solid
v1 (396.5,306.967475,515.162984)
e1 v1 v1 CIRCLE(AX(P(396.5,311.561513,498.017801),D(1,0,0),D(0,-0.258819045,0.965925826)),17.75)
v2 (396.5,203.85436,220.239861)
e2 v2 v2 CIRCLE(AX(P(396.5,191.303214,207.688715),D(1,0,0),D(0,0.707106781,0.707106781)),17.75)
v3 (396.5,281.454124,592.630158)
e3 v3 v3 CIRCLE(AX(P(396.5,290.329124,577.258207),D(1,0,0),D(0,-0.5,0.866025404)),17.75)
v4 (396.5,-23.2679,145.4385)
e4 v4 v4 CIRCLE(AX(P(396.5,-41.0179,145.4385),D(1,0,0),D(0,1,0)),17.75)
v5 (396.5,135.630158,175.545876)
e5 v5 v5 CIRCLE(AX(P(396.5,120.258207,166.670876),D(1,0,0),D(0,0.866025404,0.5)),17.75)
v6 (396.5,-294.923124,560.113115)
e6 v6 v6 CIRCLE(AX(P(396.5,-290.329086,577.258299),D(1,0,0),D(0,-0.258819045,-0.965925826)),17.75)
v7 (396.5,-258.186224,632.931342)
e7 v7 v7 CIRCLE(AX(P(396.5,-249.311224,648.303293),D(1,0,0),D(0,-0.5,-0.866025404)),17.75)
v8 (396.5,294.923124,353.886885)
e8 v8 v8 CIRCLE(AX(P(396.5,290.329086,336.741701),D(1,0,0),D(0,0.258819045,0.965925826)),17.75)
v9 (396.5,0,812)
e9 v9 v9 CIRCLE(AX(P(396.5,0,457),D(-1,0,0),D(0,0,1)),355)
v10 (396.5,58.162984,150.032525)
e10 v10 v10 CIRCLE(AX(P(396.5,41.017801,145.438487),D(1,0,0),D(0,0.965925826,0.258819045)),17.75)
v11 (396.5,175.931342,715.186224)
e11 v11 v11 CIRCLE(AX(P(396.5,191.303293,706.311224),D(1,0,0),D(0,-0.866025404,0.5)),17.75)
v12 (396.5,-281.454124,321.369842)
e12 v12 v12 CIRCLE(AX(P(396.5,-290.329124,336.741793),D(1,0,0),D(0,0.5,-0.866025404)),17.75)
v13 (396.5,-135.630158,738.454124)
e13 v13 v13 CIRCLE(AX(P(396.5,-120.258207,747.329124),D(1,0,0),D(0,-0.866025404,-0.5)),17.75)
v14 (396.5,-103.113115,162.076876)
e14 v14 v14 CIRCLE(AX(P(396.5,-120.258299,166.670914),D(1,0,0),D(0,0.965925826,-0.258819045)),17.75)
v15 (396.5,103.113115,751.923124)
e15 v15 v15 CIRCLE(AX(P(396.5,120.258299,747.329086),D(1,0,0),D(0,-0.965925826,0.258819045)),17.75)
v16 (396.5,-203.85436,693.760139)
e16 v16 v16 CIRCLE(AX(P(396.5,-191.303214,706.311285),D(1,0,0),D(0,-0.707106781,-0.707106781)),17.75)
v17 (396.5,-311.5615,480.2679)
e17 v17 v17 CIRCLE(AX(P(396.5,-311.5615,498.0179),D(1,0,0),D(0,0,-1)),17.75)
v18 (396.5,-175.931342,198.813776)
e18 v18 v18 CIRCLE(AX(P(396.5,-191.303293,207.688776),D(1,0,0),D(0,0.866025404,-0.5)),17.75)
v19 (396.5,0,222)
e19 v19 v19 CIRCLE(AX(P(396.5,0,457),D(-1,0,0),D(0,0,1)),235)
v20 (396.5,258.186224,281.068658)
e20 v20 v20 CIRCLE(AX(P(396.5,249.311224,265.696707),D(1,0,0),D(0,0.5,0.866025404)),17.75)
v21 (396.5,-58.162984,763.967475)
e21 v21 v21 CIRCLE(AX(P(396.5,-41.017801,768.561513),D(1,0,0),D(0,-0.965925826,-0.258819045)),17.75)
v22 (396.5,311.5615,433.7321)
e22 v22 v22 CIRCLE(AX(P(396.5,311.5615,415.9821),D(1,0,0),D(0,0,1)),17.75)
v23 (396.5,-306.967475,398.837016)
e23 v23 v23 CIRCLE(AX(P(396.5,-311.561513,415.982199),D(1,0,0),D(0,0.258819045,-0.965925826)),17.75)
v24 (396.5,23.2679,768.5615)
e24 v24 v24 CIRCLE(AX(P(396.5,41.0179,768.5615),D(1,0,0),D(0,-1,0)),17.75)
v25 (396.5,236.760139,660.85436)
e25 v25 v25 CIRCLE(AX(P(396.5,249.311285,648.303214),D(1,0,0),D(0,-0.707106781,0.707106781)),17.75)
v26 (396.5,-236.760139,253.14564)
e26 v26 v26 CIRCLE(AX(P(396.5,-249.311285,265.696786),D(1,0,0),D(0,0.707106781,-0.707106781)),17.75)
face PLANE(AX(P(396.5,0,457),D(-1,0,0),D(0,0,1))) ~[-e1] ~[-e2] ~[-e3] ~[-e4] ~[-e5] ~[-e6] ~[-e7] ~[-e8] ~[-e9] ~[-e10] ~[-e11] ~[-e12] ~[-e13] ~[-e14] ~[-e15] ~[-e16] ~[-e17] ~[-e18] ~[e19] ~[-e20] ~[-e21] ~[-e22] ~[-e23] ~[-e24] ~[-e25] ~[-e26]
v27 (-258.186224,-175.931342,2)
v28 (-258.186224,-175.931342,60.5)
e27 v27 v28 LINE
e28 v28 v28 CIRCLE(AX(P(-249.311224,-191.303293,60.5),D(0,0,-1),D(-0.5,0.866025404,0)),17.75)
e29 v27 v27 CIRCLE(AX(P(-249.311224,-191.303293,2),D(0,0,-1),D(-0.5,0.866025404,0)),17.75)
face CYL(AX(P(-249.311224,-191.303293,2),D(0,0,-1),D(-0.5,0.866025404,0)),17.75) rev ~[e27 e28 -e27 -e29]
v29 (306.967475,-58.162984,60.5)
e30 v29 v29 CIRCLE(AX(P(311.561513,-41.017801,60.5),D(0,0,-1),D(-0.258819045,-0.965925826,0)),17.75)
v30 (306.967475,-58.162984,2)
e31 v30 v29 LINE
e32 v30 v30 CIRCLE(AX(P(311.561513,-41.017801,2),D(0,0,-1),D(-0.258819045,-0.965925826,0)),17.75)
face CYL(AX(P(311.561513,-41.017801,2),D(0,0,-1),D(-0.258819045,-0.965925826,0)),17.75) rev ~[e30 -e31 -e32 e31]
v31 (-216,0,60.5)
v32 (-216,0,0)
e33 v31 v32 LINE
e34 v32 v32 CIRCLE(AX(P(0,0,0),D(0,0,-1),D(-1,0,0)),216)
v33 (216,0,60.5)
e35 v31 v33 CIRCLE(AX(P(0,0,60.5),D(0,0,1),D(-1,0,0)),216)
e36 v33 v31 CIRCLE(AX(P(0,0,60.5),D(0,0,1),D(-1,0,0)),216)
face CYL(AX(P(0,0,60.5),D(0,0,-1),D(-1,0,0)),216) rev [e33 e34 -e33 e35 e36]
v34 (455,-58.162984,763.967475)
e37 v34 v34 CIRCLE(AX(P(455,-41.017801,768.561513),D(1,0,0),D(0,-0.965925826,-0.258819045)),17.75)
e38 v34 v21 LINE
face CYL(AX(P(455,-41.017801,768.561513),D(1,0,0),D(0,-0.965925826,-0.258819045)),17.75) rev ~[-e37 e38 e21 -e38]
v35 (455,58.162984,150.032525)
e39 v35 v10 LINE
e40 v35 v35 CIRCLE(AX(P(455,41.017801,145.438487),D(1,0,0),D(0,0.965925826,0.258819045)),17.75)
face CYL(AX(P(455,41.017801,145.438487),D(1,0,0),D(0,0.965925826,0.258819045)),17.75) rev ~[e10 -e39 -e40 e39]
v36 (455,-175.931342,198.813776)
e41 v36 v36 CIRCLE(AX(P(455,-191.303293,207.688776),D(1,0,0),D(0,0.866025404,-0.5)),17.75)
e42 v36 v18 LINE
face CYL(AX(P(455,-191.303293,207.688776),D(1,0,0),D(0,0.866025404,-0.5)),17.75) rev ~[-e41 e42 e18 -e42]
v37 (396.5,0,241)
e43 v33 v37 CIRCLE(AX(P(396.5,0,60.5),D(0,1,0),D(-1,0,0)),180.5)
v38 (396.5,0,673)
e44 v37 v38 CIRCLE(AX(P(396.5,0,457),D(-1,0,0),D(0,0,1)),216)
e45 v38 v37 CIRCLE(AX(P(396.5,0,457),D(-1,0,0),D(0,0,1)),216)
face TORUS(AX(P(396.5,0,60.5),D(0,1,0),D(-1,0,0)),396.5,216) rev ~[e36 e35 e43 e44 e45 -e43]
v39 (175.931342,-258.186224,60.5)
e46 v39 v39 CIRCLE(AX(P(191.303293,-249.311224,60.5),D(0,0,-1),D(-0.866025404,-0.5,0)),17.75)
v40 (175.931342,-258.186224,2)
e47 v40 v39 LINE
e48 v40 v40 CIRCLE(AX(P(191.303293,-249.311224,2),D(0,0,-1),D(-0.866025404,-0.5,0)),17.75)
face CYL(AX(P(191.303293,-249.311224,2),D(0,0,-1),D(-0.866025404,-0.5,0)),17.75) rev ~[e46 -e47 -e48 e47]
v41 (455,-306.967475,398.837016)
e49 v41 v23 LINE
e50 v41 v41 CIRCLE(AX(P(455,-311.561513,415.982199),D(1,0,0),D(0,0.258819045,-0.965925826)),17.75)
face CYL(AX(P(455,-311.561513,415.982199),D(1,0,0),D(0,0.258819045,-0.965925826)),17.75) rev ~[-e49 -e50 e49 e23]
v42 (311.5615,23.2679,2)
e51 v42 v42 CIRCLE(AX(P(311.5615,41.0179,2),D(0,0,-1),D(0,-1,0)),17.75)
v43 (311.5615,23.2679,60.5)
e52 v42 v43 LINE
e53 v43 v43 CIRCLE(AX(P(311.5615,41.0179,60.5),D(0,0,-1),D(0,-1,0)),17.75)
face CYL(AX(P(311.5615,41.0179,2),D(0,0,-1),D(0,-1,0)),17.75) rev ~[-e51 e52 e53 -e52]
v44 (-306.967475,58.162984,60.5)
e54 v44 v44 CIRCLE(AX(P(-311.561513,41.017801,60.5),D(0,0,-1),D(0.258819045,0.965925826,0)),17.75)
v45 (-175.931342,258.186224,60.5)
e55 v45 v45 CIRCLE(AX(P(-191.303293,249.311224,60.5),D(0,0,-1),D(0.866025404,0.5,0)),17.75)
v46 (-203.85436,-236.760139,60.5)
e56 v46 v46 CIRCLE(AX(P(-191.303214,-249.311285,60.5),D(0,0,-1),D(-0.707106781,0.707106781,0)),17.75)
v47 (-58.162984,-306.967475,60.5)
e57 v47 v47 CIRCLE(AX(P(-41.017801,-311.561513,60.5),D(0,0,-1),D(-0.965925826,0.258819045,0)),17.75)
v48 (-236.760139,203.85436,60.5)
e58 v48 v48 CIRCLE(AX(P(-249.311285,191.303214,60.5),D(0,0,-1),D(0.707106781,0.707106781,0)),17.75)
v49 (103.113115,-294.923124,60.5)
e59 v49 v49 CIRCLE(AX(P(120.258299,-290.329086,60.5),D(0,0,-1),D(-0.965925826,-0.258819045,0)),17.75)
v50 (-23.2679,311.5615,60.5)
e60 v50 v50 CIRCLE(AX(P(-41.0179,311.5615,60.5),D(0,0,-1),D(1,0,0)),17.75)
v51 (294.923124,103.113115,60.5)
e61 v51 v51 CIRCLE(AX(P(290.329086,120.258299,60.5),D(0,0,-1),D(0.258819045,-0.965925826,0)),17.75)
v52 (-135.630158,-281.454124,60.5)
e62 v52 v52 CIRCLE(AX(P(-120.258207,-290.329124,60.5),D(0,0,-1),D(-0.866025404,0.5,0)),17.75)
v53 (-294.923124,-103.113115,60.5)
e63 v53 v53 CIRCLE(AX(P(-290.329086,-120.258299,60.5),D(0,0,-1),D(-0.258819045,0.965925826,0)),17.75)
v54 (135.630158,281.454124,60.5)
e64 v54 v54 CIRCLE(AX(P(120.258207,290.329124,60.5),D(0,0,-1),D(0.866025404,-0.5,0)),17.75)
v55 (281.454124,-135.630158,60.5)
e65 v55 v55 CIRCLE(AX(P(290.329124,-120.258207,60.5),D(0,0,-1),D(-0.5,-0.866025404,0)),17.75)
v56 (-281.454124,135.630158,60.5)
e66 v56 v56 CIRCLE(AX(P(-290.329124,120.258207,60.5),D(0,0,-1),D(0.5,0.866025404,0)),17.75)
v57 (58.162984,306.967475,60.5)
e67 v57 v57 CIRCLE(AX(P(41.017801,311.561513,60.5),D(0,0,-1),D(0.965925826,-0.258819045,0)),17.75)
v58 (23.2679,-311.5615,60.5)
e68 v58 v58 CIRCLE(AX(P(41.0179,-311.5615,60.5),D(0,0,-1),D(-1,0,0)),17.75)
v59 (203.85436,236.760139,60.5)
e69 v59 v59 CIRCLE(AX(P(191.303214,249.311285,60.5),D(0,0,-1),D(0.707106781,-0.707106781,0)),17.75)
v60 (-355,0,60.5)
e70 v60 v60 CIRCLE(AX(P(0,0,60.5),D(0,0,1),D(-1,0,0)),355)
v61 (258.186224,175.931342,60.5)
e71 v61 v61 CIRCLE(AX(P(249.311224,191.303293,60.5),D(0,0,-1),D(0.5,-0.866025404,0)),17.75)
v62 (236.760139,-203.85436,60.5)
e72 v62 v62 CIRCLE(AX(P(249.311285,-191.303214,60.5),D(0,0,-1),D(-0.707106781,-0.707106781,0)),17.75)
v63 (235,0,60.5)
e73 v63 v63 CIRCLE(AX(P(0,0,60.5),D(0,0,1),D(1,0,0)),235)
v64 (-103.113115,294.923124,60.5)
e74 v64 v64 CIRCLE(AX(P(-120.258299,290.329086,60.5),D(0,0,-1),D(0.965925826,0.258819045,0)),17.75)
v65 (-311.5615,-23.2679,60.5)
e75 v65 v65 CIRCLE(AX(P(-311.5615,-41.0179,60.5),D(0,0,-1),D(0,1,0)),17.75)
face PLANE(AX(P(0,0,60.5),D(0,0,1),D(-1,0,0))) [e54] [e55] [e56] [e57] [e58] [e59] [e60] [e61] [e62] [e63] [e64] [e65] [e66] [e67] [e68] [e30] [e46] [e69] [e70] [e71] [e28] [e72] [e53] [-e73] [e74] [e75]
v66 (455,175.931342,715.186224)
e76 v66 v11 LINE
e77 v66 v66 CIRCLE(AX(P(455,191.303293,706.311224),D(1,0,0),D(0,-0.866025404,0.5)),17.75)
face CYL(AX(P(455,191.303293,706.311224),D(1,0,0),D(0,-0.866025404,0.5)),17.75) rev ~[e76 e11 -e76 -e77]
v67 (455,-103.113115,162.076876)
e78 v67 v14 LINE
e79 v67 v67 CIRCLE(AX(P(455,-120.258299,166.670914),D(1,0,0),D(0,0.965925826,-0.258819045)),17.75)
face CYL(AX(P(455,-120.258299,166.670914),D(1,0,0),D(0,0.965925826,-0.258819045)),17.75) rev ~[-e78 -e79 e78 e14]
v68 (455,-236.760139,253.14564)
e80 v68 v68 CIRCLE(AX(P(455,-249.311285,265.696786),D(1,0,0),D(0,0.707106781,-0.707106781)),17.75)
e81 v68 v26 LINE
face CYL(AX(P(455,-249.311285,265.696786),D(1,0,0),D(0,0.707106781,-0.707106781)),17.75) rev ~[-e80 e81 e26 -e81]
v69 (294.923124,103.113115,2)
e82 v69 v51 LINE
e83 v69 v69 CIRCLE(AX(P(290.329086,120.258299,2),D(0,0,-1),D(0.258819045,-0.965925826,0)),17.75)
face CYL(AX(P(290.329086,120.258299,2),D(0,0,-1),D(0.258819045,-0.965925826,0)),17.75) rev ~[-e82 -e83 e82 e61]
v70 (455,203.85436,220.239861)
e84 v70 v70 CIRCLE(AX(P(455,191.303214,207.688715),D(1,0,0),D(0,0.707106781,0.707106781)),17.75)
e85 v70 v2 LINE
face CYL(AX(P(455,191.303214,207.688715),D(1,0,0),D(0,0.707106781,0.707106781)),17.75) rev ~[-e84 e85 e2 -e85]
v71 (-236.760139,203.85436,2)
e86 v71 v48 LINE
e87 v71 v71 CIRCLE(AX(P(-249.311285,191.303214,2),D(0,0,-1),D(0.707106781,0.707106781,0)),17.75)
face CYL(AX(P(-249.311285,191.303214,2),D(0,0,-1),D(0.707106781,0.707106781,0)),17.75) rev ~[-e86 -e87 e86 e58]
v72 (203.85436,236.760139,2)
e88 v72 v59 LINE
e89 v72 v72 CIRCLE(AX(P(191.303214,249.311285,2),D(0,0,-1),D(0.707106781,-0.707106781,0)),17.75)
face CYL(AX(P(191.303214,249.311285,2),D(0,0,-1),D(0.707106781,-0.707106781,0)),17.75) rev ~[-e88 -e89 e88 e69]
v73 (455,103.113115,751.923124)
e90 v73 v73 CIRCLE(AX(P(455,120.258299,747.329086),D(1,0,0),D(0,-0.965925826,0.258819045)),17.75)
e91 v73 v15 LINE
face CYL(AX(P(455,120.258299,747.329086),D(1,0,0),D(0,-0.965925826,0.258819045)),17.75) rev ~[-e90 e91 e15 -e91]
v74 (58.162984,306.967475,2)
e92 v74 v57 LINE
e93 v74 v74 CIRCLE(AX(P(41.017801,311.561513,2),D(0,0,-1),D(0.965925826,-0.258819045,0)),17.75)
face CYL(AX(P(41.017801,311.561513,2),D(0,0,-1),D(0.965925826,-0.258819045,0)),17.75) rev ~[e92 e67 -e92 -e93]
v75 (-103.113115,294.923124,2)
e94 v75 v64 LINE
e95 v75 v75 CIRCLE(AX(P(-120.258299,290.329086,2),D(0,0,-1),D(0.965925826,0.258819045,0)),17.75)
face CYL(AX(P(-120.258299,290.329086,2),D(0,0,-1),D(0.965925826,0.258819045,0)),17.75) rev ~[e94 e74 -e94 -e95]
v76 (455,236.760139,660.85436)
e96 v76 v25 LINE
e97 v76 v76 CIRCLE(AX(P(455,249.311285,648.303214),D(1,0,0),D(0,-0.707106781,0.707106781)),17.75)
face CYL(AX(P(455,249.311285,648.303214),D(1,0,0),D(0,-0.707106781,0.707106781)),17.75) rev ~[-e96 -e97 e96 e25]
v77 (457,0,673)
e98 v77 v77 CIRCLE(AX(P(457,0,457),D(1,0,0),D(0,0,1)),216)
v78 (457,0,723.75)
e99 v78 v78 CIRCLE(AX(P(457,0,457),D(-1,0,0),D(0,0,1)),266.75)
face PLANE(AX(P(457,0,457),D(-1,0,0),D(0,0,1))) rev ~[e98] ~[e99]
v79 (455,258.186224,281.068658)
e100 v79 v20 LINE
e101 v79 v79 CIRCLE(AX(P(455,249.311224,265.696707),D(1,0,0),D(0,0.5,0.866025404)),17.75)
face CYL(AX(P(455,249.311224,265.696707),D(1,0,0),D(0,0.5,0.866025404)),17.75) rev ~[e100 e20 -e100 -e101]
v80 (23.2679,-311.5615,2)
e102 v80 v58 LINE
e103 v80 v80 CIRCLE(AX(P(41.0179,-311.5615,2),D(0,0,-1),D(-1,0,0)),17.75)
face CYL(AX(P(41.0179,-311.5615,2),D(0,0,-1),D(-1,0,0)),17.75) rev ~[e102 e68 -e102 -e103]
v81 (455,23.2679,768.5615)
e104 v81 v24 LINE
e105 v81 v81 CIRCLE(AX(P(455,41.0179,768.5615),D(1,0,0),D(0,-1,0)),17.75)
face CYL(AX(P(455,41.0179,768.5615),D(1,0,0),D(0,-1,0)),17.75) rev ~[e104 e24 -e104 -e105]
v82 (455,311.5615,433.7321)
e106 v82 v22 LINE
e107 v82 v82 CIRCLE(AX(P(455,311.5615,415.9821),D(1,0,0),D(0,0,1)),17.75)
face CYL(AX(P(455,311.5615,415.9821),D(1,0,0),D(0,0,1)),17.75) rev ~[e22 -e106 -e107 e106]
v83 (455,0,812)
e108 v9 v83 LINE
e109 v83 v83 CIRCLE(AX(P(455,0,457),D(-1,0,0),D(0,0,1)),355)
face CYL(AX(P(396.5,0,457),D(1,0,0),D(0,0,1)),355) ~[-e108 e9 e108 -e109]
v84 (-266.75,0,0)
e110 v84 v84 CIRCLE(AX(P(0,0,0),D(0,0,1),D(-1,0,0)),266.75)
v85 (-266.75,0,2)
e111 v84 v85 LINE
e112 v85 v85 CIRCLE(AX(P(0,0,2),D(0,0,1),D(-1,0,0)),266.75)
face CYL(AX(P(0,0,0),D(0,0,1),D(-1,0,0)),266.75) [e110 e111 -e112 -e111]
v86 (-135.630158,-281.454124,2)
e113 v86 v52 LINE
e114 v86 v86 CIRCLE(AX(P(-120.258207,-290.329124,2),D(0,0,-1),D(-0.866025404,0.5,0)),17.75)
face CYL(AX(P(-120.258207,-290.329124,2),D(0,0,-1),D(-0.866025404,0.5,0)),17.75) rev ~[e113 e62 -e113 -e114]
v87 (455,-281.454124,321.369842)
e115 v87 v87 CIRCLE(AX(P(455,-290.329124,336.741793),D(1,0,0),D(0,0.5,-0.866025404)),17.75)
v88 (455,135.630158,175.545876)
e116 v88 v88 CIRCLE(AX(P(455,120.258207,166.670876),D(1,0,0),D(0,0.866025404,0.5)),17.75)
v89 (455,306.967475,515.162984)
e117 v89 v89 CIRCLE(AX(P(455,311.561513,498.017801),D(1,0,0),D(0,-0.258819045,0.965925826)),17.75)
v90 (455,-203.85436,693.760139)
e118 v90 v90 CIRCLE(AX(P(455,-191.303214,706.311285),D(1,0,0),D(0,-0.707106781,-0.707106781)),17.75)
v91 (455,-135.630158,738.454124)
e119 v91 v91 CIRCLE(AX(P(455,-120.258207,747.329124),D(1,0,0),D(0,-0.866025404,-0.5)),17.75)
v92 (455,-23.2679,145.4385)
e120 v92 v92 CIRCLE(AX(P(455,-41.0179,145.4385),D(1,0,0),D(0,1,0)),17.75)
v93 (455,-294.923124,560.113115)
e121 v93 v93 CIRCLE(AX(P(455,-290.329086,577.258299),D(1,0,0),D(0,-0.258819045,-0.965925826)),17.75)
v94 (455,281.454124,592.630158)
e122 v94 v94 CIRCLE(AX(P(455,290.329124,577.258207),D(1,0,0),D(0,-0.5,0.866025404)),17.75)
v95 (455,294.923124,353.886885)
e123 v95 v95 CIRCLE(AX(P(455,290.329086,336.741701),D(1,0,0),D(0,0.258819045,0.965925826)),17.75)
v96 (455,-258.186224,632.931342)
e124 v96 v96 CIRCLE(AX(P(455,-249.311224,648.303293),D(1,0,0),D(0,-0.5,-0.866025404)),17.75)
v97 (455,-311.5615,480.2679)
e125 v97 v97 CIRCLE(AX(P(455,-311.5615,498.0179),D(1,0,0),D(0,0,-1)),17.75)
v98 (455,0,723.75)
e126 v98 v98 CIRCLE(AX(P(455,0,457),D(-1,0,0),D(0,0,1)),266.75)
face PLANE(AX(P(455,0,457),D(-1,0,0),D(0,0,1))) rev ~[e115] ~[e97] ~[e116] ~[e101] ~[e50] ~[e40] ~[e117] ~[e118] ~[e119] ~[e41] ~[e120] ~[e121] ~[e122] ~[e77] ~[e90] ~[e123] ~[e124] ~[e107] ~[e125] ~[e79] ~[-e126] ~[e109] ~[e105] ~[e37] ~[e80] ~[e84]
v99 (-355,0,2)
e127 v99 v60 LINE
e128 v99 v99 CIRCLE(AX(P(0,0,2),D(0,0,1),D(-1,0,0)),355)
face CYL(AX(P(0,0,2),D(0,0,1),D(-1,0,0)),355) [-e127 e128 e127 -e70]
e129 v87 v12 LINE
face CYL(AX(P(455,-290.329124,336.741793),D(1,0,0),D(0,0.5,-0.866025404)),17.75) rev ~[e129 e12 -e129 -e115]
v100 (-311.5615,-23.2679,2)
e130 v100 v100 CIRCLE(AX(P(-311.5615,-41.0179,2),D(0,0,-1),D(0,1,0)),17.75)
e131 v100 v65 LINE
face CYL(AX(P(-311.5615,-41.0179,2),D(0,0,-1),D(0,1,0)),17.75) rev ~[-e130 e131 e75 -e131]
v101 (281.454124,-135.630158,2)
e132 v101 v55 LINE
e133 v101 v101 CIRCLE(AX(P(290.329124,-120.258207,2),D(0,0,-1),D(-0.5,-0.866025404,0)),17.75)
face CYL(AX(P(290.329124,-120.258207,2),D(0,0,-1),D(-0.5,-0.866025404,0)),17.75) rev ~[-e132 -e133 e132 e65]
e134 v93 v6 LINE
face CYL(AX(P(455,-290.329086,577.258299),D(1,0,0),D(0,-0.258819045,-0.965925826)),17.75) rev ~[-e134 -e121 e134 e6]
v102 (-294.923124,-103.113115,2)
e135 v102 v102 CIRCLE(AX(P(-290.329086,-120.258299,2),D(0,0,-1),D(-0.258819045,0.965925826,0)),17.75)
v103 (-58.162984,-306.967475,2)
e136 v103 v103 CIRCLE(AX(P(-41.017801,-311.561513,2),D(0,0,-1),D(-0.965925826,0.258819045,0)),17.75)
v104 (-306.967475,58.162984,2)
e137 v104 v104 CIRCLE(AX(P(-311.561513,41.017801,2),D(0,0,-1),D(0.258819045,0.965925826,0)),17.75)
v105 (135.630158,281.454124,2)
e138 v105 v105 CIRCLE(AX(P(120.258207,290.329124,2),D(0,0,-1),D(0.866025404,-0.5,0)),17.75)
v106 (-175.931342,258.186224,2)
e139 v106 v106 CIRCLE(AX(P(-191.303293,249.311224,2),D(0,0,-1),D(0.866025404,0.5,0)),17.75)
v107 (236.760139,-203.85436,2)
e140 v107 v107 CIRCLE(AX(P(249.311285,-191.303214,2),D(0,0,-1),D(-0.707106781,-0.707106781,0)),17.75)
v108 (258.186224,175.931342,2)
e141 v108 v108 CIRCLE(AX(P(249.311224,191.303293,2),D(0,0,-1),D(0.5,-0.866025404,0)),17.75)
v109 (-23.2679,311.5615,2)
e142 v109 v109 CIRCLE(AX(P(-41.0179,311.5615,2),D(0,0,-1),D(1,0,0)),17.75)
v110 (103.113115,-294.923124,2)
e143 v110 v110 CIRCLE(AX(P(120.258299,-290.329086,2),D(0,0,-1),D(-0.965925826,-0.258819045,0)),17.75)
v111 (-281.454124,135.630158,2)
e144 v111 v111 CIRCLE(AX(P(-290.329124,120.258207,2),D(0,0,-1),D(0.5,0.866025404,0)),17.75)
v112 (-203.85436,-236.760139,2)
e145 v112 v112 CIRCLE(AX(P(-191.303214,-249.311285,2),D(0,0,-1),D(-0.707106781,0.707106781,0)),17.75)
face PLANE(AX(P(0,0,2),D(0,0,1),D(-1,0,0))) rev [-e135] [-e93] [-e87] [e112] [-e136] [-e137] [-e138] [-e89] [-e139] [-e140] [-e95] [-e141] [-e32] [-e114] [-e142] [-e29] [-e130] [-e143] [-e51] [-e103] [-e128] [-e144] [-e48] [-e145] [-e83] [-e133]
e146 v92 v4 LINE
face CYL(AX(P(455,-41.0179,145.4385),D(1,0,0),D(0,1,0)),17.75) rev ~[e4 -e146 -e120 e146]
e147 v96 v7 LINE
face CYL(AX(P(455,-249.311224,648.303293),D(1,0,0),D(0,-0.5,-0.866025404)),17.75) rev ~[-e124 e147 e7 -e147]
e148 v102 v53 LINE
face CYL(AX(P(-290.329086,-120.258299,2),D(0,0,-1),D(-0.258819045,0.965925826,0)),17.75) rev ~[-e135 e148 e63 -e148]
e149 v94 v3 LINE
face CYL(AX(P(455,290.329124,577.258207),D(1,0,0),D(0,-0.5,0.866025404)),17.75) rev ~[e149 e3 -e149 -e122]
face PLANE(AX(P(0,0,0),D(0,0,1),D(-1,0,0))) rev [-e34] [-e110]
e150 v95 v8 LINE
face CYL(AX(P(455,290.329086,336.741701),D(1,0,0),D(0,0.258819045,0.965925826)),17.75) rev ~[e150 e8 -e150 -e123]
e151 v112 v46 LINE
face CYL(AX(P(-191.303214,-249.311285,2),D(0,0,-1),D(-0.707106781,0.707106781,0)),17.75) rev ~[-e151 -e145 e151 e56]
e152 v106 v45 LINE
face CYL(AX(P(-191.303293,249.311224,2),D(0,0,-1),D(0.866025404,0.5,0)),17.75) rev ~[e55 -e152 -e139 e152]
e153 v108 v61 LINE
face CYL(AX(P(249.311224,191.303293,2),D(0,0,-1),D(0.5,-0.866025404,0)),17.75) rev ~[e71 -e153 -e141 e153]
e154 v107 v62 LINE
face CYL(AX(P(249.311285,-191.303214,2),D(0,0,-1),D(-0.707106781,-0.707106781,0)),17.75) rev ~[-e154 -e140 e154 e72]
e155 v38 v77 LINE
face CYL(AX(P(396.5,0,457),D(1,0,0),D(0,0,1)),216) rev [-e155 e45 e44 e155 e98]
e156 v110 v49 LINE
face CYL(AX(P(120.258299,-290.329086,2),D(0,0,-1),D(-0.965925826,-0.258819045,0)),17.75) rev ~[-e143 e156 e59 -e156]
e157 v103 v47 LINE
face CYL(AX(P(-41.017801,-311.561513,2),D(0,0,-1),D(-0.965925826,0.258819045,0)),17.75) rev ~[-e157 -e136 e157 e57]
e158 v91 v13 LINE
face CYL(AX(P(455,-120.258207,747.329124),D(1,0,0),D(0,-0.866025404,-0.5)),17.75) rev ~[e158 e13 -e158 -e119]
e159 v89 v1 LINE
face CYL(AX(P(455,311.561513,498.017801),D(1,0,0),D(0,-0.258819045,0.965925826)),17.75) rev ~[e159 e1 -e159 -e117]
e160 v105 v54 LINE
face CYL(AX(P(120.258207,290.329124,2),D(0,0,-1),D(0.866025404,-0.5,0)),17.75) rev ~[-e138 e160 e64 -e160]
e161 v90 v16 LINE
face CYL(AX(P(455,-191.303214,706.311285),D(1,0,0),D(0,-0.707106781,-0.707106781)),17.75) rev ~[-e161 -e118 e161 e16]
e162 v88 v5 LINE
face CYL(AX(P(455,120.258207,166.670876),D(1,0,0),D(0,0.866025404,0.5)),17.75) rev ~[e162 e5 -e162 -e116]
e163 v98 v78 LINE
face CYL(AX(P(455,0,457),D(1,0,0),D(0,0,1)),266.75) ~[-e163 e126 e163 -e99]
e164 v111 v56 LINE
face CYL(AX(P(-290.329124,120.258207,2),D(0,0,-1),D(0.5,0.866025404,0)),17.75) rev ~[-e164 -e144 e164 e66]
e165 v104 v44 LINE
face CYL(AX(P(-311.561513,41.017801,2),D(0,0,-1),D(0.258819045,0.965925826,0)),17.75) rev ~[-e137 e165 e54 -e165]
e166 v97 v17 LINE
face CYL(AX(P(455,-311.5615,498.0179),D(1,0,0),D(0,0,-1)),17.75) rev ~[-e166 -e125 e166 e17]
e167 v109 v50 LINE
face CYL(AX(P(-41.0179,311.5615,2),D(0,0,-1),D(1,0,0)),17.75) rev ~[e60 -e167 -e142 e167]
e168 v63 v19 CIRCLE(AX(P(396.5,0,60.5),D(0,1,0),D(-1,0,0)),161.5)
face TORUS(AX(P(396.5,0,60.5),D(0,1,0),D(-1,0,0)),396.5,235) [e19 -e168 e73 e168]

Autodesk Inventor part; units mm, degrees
ref_plane "YZ Plane" through (0, 0, 0) normal (1, 0, 0) x (0, 1, 0)
ref_plane "XZ Plane" through (0, 0, 0) normal (0, 1, 0) x (-1, 0, 0)
ref_plane "XY Plane" through (0, 0, 0) normal (0, 0, 1) x (1, 0, 0)
sketch "Sketch1" plane through (0, 0, 0) normal (0, 1, 0) x (-1, 0, 0)
  line L0 (216, 0) -> (266.75, 0)
  line L1 (266.75, 0) -> (266.75, 2)
  line L2 (266.75, 2) -> (355, 2)
  line L3 (355, 2) -> (355, 60.5)
  line L4 (355, 60.5) -> (216, 60.5)
  line L5 (216, 60.5) -> (216, 0)
  line L6 (0, 0) -> (0, 60.5)
  line L7 (0, 60.5) -> (216, 60.5) construction
  line L8 (0, 0) -> (216, 0) construction
  line L9 (-457, 457) -> (-396.5, 457) construction
  line L10 (-396.5, 457) -> (-396.5, 673) construction
  line L11 (-396.5, 673) -> (-457, 673)
  line L12 (-457, 673) -> (-457, 457) construction
  line L13 (-396.5, 673) -> (-396.5, 812)
  line L14 (-396.5, 812) -> (-455, 812)
  line L15 (-455, 812) -> (-455, 723.75)
  line L16 (-455, 723.75) -> (-457, 723.75)
  line L17 (-457, 723.75) -> (-457, 673)
  dimension "d0" = 432
  dimension "d1" = 710
  dimension "d2" = 533.5
  dimension "d3" = 2
  dimension "d4" = 60.5
  dimension "d6" = 2
  dimension "d7" = 60.5
  dimension "d8" = 432
  dimension "d9" = 533.5
  dimension "d10" = 710
  dimension "d11" = 457
  dimension "d12" = 457
revolve "Revolution1" add sketch "Sketch1" angle 360 about axis through (0, 0, 0) along (0, 0, 1) contours L5 L4 L3 L2 L1 L0
revolve "Revolution2" add sketch "Sketch1" angle 360 about axis through (457, 0, 457) along (-1, 0, 0) contours L11 L17 L16 L15 L14 L13
sketch "Sketch2" plane through (0, 0, 0) normal (0, 1, 0) x (-1, 0, 0)
  line L0 (-396.5, 673) -> (-396.5, 812) projected
  line L1 (355, 60.5) -> (216, 60.5) projected
  line L2 (0, 0) -> (0, 60.5) projected
  line L3 (-457, 457) -> (-396.5, 457) projected
  arc A0 (0, 60.5) -> (-396.5, 457) centre (-396.5, 60.5) ccw
sketch "Sketch3" plane through (0, 0, 60.5) normal (0, 0, 1) x (1, 0, 0)
  circle A0 centre (0, 0) radius 216 projected
  circle A1 centre (0, 0) radius 216
  circle A2 centre (0, 0) radius 235
  dimension "d14" = 470
sweep "Sweep1" add profiles "Sketch3" path "Sketch2" path curves L2 A0 L3
sketch "Sketch6" plane through (0, 0, 2) normal (0, 0, -1) x (-1, 0, 0)
  circle A0 centre (0, 0) radius 355 projected
  circle A1 centre (-41.0179, -311.5615) radius 17.75
  circle A2 centre (0, 0) radius 314.25 construction
  line L0 (-41.0179, -311.5615) -> (0, 0) construction
  line L1 (0, 0) -> (0, -314.25) construction
  dimension "d20" = 7.5
  dimension "d21" = 35.5
  dimension "d22" = 628.5
extrude "Extrusion1" cut sketch "Sketch6" against normal up to surface (58.5 mm away) contours A1
pattern_circular "Circular Pattern1" count 24 over 360 about axis through (0, 0, 31.25) along (0, 0, -1) of "Extrusion1"
sketch "Sketch7" plane through (455, 0, 457) normal (1, 0, 0) x (0, 0, -1)
  circle A0 centre (0, 0) radius 266.75 projected
  circle A1 centre (-41.0179, -311.5615) radius 17.75
  circle A2 centre (0, 0) radius 314.25 construction
  line L0 (-41.0179, -311.5615) -> (0, 0) construction
  line L1 (0, 0) -> (0, -314.25) construction
  dimension "d25" = 7.5
  dimension "d26" = 35.5
  dimension "d27" = 628.5
extrude "Extrusion2" cut sketch "Sketch7" against normal up to surface (58.5 mm away) contours A1
pattern_circular "Circular Pattern2" count 24 over 360 about axis through (425.75, 0, 457) along (-1, 0, 0) of "Extrusion2"
equation "\"d0\" = d"
equation "\"d1\" = D1"
equation "\"d2\" = D2"
equation "\"d4\" = C1"
equation "\"d7\" = C1"
equation "\"d8\" = d"
equation "\"d9\" = D2"
equation "\"d10\" = D1"
equation "\"d11\" = AA"
equation "\"d12\" = AA"
equation "\"d14\" = d + 2 * t"
equation "\"d21\" = L"
equation "\"d22\" = K1"
equation "\"d26\" = L"
equation "\"d27\" = K1"
equation "\"D1\" = 710"
equation "\"C1\" = 60.5"
equation "\"t\" = 19"
equation "\"d\" = 432"
equation "\"AA\" = 457"
equation "\"D2\" = 533.5"
equation "\"K1\" = 628.5"
equation "\"L\" = 35.5"
properties part number "GB/T 17185 450-PN50 \"F90E(S) RF\"" material "Steel"
